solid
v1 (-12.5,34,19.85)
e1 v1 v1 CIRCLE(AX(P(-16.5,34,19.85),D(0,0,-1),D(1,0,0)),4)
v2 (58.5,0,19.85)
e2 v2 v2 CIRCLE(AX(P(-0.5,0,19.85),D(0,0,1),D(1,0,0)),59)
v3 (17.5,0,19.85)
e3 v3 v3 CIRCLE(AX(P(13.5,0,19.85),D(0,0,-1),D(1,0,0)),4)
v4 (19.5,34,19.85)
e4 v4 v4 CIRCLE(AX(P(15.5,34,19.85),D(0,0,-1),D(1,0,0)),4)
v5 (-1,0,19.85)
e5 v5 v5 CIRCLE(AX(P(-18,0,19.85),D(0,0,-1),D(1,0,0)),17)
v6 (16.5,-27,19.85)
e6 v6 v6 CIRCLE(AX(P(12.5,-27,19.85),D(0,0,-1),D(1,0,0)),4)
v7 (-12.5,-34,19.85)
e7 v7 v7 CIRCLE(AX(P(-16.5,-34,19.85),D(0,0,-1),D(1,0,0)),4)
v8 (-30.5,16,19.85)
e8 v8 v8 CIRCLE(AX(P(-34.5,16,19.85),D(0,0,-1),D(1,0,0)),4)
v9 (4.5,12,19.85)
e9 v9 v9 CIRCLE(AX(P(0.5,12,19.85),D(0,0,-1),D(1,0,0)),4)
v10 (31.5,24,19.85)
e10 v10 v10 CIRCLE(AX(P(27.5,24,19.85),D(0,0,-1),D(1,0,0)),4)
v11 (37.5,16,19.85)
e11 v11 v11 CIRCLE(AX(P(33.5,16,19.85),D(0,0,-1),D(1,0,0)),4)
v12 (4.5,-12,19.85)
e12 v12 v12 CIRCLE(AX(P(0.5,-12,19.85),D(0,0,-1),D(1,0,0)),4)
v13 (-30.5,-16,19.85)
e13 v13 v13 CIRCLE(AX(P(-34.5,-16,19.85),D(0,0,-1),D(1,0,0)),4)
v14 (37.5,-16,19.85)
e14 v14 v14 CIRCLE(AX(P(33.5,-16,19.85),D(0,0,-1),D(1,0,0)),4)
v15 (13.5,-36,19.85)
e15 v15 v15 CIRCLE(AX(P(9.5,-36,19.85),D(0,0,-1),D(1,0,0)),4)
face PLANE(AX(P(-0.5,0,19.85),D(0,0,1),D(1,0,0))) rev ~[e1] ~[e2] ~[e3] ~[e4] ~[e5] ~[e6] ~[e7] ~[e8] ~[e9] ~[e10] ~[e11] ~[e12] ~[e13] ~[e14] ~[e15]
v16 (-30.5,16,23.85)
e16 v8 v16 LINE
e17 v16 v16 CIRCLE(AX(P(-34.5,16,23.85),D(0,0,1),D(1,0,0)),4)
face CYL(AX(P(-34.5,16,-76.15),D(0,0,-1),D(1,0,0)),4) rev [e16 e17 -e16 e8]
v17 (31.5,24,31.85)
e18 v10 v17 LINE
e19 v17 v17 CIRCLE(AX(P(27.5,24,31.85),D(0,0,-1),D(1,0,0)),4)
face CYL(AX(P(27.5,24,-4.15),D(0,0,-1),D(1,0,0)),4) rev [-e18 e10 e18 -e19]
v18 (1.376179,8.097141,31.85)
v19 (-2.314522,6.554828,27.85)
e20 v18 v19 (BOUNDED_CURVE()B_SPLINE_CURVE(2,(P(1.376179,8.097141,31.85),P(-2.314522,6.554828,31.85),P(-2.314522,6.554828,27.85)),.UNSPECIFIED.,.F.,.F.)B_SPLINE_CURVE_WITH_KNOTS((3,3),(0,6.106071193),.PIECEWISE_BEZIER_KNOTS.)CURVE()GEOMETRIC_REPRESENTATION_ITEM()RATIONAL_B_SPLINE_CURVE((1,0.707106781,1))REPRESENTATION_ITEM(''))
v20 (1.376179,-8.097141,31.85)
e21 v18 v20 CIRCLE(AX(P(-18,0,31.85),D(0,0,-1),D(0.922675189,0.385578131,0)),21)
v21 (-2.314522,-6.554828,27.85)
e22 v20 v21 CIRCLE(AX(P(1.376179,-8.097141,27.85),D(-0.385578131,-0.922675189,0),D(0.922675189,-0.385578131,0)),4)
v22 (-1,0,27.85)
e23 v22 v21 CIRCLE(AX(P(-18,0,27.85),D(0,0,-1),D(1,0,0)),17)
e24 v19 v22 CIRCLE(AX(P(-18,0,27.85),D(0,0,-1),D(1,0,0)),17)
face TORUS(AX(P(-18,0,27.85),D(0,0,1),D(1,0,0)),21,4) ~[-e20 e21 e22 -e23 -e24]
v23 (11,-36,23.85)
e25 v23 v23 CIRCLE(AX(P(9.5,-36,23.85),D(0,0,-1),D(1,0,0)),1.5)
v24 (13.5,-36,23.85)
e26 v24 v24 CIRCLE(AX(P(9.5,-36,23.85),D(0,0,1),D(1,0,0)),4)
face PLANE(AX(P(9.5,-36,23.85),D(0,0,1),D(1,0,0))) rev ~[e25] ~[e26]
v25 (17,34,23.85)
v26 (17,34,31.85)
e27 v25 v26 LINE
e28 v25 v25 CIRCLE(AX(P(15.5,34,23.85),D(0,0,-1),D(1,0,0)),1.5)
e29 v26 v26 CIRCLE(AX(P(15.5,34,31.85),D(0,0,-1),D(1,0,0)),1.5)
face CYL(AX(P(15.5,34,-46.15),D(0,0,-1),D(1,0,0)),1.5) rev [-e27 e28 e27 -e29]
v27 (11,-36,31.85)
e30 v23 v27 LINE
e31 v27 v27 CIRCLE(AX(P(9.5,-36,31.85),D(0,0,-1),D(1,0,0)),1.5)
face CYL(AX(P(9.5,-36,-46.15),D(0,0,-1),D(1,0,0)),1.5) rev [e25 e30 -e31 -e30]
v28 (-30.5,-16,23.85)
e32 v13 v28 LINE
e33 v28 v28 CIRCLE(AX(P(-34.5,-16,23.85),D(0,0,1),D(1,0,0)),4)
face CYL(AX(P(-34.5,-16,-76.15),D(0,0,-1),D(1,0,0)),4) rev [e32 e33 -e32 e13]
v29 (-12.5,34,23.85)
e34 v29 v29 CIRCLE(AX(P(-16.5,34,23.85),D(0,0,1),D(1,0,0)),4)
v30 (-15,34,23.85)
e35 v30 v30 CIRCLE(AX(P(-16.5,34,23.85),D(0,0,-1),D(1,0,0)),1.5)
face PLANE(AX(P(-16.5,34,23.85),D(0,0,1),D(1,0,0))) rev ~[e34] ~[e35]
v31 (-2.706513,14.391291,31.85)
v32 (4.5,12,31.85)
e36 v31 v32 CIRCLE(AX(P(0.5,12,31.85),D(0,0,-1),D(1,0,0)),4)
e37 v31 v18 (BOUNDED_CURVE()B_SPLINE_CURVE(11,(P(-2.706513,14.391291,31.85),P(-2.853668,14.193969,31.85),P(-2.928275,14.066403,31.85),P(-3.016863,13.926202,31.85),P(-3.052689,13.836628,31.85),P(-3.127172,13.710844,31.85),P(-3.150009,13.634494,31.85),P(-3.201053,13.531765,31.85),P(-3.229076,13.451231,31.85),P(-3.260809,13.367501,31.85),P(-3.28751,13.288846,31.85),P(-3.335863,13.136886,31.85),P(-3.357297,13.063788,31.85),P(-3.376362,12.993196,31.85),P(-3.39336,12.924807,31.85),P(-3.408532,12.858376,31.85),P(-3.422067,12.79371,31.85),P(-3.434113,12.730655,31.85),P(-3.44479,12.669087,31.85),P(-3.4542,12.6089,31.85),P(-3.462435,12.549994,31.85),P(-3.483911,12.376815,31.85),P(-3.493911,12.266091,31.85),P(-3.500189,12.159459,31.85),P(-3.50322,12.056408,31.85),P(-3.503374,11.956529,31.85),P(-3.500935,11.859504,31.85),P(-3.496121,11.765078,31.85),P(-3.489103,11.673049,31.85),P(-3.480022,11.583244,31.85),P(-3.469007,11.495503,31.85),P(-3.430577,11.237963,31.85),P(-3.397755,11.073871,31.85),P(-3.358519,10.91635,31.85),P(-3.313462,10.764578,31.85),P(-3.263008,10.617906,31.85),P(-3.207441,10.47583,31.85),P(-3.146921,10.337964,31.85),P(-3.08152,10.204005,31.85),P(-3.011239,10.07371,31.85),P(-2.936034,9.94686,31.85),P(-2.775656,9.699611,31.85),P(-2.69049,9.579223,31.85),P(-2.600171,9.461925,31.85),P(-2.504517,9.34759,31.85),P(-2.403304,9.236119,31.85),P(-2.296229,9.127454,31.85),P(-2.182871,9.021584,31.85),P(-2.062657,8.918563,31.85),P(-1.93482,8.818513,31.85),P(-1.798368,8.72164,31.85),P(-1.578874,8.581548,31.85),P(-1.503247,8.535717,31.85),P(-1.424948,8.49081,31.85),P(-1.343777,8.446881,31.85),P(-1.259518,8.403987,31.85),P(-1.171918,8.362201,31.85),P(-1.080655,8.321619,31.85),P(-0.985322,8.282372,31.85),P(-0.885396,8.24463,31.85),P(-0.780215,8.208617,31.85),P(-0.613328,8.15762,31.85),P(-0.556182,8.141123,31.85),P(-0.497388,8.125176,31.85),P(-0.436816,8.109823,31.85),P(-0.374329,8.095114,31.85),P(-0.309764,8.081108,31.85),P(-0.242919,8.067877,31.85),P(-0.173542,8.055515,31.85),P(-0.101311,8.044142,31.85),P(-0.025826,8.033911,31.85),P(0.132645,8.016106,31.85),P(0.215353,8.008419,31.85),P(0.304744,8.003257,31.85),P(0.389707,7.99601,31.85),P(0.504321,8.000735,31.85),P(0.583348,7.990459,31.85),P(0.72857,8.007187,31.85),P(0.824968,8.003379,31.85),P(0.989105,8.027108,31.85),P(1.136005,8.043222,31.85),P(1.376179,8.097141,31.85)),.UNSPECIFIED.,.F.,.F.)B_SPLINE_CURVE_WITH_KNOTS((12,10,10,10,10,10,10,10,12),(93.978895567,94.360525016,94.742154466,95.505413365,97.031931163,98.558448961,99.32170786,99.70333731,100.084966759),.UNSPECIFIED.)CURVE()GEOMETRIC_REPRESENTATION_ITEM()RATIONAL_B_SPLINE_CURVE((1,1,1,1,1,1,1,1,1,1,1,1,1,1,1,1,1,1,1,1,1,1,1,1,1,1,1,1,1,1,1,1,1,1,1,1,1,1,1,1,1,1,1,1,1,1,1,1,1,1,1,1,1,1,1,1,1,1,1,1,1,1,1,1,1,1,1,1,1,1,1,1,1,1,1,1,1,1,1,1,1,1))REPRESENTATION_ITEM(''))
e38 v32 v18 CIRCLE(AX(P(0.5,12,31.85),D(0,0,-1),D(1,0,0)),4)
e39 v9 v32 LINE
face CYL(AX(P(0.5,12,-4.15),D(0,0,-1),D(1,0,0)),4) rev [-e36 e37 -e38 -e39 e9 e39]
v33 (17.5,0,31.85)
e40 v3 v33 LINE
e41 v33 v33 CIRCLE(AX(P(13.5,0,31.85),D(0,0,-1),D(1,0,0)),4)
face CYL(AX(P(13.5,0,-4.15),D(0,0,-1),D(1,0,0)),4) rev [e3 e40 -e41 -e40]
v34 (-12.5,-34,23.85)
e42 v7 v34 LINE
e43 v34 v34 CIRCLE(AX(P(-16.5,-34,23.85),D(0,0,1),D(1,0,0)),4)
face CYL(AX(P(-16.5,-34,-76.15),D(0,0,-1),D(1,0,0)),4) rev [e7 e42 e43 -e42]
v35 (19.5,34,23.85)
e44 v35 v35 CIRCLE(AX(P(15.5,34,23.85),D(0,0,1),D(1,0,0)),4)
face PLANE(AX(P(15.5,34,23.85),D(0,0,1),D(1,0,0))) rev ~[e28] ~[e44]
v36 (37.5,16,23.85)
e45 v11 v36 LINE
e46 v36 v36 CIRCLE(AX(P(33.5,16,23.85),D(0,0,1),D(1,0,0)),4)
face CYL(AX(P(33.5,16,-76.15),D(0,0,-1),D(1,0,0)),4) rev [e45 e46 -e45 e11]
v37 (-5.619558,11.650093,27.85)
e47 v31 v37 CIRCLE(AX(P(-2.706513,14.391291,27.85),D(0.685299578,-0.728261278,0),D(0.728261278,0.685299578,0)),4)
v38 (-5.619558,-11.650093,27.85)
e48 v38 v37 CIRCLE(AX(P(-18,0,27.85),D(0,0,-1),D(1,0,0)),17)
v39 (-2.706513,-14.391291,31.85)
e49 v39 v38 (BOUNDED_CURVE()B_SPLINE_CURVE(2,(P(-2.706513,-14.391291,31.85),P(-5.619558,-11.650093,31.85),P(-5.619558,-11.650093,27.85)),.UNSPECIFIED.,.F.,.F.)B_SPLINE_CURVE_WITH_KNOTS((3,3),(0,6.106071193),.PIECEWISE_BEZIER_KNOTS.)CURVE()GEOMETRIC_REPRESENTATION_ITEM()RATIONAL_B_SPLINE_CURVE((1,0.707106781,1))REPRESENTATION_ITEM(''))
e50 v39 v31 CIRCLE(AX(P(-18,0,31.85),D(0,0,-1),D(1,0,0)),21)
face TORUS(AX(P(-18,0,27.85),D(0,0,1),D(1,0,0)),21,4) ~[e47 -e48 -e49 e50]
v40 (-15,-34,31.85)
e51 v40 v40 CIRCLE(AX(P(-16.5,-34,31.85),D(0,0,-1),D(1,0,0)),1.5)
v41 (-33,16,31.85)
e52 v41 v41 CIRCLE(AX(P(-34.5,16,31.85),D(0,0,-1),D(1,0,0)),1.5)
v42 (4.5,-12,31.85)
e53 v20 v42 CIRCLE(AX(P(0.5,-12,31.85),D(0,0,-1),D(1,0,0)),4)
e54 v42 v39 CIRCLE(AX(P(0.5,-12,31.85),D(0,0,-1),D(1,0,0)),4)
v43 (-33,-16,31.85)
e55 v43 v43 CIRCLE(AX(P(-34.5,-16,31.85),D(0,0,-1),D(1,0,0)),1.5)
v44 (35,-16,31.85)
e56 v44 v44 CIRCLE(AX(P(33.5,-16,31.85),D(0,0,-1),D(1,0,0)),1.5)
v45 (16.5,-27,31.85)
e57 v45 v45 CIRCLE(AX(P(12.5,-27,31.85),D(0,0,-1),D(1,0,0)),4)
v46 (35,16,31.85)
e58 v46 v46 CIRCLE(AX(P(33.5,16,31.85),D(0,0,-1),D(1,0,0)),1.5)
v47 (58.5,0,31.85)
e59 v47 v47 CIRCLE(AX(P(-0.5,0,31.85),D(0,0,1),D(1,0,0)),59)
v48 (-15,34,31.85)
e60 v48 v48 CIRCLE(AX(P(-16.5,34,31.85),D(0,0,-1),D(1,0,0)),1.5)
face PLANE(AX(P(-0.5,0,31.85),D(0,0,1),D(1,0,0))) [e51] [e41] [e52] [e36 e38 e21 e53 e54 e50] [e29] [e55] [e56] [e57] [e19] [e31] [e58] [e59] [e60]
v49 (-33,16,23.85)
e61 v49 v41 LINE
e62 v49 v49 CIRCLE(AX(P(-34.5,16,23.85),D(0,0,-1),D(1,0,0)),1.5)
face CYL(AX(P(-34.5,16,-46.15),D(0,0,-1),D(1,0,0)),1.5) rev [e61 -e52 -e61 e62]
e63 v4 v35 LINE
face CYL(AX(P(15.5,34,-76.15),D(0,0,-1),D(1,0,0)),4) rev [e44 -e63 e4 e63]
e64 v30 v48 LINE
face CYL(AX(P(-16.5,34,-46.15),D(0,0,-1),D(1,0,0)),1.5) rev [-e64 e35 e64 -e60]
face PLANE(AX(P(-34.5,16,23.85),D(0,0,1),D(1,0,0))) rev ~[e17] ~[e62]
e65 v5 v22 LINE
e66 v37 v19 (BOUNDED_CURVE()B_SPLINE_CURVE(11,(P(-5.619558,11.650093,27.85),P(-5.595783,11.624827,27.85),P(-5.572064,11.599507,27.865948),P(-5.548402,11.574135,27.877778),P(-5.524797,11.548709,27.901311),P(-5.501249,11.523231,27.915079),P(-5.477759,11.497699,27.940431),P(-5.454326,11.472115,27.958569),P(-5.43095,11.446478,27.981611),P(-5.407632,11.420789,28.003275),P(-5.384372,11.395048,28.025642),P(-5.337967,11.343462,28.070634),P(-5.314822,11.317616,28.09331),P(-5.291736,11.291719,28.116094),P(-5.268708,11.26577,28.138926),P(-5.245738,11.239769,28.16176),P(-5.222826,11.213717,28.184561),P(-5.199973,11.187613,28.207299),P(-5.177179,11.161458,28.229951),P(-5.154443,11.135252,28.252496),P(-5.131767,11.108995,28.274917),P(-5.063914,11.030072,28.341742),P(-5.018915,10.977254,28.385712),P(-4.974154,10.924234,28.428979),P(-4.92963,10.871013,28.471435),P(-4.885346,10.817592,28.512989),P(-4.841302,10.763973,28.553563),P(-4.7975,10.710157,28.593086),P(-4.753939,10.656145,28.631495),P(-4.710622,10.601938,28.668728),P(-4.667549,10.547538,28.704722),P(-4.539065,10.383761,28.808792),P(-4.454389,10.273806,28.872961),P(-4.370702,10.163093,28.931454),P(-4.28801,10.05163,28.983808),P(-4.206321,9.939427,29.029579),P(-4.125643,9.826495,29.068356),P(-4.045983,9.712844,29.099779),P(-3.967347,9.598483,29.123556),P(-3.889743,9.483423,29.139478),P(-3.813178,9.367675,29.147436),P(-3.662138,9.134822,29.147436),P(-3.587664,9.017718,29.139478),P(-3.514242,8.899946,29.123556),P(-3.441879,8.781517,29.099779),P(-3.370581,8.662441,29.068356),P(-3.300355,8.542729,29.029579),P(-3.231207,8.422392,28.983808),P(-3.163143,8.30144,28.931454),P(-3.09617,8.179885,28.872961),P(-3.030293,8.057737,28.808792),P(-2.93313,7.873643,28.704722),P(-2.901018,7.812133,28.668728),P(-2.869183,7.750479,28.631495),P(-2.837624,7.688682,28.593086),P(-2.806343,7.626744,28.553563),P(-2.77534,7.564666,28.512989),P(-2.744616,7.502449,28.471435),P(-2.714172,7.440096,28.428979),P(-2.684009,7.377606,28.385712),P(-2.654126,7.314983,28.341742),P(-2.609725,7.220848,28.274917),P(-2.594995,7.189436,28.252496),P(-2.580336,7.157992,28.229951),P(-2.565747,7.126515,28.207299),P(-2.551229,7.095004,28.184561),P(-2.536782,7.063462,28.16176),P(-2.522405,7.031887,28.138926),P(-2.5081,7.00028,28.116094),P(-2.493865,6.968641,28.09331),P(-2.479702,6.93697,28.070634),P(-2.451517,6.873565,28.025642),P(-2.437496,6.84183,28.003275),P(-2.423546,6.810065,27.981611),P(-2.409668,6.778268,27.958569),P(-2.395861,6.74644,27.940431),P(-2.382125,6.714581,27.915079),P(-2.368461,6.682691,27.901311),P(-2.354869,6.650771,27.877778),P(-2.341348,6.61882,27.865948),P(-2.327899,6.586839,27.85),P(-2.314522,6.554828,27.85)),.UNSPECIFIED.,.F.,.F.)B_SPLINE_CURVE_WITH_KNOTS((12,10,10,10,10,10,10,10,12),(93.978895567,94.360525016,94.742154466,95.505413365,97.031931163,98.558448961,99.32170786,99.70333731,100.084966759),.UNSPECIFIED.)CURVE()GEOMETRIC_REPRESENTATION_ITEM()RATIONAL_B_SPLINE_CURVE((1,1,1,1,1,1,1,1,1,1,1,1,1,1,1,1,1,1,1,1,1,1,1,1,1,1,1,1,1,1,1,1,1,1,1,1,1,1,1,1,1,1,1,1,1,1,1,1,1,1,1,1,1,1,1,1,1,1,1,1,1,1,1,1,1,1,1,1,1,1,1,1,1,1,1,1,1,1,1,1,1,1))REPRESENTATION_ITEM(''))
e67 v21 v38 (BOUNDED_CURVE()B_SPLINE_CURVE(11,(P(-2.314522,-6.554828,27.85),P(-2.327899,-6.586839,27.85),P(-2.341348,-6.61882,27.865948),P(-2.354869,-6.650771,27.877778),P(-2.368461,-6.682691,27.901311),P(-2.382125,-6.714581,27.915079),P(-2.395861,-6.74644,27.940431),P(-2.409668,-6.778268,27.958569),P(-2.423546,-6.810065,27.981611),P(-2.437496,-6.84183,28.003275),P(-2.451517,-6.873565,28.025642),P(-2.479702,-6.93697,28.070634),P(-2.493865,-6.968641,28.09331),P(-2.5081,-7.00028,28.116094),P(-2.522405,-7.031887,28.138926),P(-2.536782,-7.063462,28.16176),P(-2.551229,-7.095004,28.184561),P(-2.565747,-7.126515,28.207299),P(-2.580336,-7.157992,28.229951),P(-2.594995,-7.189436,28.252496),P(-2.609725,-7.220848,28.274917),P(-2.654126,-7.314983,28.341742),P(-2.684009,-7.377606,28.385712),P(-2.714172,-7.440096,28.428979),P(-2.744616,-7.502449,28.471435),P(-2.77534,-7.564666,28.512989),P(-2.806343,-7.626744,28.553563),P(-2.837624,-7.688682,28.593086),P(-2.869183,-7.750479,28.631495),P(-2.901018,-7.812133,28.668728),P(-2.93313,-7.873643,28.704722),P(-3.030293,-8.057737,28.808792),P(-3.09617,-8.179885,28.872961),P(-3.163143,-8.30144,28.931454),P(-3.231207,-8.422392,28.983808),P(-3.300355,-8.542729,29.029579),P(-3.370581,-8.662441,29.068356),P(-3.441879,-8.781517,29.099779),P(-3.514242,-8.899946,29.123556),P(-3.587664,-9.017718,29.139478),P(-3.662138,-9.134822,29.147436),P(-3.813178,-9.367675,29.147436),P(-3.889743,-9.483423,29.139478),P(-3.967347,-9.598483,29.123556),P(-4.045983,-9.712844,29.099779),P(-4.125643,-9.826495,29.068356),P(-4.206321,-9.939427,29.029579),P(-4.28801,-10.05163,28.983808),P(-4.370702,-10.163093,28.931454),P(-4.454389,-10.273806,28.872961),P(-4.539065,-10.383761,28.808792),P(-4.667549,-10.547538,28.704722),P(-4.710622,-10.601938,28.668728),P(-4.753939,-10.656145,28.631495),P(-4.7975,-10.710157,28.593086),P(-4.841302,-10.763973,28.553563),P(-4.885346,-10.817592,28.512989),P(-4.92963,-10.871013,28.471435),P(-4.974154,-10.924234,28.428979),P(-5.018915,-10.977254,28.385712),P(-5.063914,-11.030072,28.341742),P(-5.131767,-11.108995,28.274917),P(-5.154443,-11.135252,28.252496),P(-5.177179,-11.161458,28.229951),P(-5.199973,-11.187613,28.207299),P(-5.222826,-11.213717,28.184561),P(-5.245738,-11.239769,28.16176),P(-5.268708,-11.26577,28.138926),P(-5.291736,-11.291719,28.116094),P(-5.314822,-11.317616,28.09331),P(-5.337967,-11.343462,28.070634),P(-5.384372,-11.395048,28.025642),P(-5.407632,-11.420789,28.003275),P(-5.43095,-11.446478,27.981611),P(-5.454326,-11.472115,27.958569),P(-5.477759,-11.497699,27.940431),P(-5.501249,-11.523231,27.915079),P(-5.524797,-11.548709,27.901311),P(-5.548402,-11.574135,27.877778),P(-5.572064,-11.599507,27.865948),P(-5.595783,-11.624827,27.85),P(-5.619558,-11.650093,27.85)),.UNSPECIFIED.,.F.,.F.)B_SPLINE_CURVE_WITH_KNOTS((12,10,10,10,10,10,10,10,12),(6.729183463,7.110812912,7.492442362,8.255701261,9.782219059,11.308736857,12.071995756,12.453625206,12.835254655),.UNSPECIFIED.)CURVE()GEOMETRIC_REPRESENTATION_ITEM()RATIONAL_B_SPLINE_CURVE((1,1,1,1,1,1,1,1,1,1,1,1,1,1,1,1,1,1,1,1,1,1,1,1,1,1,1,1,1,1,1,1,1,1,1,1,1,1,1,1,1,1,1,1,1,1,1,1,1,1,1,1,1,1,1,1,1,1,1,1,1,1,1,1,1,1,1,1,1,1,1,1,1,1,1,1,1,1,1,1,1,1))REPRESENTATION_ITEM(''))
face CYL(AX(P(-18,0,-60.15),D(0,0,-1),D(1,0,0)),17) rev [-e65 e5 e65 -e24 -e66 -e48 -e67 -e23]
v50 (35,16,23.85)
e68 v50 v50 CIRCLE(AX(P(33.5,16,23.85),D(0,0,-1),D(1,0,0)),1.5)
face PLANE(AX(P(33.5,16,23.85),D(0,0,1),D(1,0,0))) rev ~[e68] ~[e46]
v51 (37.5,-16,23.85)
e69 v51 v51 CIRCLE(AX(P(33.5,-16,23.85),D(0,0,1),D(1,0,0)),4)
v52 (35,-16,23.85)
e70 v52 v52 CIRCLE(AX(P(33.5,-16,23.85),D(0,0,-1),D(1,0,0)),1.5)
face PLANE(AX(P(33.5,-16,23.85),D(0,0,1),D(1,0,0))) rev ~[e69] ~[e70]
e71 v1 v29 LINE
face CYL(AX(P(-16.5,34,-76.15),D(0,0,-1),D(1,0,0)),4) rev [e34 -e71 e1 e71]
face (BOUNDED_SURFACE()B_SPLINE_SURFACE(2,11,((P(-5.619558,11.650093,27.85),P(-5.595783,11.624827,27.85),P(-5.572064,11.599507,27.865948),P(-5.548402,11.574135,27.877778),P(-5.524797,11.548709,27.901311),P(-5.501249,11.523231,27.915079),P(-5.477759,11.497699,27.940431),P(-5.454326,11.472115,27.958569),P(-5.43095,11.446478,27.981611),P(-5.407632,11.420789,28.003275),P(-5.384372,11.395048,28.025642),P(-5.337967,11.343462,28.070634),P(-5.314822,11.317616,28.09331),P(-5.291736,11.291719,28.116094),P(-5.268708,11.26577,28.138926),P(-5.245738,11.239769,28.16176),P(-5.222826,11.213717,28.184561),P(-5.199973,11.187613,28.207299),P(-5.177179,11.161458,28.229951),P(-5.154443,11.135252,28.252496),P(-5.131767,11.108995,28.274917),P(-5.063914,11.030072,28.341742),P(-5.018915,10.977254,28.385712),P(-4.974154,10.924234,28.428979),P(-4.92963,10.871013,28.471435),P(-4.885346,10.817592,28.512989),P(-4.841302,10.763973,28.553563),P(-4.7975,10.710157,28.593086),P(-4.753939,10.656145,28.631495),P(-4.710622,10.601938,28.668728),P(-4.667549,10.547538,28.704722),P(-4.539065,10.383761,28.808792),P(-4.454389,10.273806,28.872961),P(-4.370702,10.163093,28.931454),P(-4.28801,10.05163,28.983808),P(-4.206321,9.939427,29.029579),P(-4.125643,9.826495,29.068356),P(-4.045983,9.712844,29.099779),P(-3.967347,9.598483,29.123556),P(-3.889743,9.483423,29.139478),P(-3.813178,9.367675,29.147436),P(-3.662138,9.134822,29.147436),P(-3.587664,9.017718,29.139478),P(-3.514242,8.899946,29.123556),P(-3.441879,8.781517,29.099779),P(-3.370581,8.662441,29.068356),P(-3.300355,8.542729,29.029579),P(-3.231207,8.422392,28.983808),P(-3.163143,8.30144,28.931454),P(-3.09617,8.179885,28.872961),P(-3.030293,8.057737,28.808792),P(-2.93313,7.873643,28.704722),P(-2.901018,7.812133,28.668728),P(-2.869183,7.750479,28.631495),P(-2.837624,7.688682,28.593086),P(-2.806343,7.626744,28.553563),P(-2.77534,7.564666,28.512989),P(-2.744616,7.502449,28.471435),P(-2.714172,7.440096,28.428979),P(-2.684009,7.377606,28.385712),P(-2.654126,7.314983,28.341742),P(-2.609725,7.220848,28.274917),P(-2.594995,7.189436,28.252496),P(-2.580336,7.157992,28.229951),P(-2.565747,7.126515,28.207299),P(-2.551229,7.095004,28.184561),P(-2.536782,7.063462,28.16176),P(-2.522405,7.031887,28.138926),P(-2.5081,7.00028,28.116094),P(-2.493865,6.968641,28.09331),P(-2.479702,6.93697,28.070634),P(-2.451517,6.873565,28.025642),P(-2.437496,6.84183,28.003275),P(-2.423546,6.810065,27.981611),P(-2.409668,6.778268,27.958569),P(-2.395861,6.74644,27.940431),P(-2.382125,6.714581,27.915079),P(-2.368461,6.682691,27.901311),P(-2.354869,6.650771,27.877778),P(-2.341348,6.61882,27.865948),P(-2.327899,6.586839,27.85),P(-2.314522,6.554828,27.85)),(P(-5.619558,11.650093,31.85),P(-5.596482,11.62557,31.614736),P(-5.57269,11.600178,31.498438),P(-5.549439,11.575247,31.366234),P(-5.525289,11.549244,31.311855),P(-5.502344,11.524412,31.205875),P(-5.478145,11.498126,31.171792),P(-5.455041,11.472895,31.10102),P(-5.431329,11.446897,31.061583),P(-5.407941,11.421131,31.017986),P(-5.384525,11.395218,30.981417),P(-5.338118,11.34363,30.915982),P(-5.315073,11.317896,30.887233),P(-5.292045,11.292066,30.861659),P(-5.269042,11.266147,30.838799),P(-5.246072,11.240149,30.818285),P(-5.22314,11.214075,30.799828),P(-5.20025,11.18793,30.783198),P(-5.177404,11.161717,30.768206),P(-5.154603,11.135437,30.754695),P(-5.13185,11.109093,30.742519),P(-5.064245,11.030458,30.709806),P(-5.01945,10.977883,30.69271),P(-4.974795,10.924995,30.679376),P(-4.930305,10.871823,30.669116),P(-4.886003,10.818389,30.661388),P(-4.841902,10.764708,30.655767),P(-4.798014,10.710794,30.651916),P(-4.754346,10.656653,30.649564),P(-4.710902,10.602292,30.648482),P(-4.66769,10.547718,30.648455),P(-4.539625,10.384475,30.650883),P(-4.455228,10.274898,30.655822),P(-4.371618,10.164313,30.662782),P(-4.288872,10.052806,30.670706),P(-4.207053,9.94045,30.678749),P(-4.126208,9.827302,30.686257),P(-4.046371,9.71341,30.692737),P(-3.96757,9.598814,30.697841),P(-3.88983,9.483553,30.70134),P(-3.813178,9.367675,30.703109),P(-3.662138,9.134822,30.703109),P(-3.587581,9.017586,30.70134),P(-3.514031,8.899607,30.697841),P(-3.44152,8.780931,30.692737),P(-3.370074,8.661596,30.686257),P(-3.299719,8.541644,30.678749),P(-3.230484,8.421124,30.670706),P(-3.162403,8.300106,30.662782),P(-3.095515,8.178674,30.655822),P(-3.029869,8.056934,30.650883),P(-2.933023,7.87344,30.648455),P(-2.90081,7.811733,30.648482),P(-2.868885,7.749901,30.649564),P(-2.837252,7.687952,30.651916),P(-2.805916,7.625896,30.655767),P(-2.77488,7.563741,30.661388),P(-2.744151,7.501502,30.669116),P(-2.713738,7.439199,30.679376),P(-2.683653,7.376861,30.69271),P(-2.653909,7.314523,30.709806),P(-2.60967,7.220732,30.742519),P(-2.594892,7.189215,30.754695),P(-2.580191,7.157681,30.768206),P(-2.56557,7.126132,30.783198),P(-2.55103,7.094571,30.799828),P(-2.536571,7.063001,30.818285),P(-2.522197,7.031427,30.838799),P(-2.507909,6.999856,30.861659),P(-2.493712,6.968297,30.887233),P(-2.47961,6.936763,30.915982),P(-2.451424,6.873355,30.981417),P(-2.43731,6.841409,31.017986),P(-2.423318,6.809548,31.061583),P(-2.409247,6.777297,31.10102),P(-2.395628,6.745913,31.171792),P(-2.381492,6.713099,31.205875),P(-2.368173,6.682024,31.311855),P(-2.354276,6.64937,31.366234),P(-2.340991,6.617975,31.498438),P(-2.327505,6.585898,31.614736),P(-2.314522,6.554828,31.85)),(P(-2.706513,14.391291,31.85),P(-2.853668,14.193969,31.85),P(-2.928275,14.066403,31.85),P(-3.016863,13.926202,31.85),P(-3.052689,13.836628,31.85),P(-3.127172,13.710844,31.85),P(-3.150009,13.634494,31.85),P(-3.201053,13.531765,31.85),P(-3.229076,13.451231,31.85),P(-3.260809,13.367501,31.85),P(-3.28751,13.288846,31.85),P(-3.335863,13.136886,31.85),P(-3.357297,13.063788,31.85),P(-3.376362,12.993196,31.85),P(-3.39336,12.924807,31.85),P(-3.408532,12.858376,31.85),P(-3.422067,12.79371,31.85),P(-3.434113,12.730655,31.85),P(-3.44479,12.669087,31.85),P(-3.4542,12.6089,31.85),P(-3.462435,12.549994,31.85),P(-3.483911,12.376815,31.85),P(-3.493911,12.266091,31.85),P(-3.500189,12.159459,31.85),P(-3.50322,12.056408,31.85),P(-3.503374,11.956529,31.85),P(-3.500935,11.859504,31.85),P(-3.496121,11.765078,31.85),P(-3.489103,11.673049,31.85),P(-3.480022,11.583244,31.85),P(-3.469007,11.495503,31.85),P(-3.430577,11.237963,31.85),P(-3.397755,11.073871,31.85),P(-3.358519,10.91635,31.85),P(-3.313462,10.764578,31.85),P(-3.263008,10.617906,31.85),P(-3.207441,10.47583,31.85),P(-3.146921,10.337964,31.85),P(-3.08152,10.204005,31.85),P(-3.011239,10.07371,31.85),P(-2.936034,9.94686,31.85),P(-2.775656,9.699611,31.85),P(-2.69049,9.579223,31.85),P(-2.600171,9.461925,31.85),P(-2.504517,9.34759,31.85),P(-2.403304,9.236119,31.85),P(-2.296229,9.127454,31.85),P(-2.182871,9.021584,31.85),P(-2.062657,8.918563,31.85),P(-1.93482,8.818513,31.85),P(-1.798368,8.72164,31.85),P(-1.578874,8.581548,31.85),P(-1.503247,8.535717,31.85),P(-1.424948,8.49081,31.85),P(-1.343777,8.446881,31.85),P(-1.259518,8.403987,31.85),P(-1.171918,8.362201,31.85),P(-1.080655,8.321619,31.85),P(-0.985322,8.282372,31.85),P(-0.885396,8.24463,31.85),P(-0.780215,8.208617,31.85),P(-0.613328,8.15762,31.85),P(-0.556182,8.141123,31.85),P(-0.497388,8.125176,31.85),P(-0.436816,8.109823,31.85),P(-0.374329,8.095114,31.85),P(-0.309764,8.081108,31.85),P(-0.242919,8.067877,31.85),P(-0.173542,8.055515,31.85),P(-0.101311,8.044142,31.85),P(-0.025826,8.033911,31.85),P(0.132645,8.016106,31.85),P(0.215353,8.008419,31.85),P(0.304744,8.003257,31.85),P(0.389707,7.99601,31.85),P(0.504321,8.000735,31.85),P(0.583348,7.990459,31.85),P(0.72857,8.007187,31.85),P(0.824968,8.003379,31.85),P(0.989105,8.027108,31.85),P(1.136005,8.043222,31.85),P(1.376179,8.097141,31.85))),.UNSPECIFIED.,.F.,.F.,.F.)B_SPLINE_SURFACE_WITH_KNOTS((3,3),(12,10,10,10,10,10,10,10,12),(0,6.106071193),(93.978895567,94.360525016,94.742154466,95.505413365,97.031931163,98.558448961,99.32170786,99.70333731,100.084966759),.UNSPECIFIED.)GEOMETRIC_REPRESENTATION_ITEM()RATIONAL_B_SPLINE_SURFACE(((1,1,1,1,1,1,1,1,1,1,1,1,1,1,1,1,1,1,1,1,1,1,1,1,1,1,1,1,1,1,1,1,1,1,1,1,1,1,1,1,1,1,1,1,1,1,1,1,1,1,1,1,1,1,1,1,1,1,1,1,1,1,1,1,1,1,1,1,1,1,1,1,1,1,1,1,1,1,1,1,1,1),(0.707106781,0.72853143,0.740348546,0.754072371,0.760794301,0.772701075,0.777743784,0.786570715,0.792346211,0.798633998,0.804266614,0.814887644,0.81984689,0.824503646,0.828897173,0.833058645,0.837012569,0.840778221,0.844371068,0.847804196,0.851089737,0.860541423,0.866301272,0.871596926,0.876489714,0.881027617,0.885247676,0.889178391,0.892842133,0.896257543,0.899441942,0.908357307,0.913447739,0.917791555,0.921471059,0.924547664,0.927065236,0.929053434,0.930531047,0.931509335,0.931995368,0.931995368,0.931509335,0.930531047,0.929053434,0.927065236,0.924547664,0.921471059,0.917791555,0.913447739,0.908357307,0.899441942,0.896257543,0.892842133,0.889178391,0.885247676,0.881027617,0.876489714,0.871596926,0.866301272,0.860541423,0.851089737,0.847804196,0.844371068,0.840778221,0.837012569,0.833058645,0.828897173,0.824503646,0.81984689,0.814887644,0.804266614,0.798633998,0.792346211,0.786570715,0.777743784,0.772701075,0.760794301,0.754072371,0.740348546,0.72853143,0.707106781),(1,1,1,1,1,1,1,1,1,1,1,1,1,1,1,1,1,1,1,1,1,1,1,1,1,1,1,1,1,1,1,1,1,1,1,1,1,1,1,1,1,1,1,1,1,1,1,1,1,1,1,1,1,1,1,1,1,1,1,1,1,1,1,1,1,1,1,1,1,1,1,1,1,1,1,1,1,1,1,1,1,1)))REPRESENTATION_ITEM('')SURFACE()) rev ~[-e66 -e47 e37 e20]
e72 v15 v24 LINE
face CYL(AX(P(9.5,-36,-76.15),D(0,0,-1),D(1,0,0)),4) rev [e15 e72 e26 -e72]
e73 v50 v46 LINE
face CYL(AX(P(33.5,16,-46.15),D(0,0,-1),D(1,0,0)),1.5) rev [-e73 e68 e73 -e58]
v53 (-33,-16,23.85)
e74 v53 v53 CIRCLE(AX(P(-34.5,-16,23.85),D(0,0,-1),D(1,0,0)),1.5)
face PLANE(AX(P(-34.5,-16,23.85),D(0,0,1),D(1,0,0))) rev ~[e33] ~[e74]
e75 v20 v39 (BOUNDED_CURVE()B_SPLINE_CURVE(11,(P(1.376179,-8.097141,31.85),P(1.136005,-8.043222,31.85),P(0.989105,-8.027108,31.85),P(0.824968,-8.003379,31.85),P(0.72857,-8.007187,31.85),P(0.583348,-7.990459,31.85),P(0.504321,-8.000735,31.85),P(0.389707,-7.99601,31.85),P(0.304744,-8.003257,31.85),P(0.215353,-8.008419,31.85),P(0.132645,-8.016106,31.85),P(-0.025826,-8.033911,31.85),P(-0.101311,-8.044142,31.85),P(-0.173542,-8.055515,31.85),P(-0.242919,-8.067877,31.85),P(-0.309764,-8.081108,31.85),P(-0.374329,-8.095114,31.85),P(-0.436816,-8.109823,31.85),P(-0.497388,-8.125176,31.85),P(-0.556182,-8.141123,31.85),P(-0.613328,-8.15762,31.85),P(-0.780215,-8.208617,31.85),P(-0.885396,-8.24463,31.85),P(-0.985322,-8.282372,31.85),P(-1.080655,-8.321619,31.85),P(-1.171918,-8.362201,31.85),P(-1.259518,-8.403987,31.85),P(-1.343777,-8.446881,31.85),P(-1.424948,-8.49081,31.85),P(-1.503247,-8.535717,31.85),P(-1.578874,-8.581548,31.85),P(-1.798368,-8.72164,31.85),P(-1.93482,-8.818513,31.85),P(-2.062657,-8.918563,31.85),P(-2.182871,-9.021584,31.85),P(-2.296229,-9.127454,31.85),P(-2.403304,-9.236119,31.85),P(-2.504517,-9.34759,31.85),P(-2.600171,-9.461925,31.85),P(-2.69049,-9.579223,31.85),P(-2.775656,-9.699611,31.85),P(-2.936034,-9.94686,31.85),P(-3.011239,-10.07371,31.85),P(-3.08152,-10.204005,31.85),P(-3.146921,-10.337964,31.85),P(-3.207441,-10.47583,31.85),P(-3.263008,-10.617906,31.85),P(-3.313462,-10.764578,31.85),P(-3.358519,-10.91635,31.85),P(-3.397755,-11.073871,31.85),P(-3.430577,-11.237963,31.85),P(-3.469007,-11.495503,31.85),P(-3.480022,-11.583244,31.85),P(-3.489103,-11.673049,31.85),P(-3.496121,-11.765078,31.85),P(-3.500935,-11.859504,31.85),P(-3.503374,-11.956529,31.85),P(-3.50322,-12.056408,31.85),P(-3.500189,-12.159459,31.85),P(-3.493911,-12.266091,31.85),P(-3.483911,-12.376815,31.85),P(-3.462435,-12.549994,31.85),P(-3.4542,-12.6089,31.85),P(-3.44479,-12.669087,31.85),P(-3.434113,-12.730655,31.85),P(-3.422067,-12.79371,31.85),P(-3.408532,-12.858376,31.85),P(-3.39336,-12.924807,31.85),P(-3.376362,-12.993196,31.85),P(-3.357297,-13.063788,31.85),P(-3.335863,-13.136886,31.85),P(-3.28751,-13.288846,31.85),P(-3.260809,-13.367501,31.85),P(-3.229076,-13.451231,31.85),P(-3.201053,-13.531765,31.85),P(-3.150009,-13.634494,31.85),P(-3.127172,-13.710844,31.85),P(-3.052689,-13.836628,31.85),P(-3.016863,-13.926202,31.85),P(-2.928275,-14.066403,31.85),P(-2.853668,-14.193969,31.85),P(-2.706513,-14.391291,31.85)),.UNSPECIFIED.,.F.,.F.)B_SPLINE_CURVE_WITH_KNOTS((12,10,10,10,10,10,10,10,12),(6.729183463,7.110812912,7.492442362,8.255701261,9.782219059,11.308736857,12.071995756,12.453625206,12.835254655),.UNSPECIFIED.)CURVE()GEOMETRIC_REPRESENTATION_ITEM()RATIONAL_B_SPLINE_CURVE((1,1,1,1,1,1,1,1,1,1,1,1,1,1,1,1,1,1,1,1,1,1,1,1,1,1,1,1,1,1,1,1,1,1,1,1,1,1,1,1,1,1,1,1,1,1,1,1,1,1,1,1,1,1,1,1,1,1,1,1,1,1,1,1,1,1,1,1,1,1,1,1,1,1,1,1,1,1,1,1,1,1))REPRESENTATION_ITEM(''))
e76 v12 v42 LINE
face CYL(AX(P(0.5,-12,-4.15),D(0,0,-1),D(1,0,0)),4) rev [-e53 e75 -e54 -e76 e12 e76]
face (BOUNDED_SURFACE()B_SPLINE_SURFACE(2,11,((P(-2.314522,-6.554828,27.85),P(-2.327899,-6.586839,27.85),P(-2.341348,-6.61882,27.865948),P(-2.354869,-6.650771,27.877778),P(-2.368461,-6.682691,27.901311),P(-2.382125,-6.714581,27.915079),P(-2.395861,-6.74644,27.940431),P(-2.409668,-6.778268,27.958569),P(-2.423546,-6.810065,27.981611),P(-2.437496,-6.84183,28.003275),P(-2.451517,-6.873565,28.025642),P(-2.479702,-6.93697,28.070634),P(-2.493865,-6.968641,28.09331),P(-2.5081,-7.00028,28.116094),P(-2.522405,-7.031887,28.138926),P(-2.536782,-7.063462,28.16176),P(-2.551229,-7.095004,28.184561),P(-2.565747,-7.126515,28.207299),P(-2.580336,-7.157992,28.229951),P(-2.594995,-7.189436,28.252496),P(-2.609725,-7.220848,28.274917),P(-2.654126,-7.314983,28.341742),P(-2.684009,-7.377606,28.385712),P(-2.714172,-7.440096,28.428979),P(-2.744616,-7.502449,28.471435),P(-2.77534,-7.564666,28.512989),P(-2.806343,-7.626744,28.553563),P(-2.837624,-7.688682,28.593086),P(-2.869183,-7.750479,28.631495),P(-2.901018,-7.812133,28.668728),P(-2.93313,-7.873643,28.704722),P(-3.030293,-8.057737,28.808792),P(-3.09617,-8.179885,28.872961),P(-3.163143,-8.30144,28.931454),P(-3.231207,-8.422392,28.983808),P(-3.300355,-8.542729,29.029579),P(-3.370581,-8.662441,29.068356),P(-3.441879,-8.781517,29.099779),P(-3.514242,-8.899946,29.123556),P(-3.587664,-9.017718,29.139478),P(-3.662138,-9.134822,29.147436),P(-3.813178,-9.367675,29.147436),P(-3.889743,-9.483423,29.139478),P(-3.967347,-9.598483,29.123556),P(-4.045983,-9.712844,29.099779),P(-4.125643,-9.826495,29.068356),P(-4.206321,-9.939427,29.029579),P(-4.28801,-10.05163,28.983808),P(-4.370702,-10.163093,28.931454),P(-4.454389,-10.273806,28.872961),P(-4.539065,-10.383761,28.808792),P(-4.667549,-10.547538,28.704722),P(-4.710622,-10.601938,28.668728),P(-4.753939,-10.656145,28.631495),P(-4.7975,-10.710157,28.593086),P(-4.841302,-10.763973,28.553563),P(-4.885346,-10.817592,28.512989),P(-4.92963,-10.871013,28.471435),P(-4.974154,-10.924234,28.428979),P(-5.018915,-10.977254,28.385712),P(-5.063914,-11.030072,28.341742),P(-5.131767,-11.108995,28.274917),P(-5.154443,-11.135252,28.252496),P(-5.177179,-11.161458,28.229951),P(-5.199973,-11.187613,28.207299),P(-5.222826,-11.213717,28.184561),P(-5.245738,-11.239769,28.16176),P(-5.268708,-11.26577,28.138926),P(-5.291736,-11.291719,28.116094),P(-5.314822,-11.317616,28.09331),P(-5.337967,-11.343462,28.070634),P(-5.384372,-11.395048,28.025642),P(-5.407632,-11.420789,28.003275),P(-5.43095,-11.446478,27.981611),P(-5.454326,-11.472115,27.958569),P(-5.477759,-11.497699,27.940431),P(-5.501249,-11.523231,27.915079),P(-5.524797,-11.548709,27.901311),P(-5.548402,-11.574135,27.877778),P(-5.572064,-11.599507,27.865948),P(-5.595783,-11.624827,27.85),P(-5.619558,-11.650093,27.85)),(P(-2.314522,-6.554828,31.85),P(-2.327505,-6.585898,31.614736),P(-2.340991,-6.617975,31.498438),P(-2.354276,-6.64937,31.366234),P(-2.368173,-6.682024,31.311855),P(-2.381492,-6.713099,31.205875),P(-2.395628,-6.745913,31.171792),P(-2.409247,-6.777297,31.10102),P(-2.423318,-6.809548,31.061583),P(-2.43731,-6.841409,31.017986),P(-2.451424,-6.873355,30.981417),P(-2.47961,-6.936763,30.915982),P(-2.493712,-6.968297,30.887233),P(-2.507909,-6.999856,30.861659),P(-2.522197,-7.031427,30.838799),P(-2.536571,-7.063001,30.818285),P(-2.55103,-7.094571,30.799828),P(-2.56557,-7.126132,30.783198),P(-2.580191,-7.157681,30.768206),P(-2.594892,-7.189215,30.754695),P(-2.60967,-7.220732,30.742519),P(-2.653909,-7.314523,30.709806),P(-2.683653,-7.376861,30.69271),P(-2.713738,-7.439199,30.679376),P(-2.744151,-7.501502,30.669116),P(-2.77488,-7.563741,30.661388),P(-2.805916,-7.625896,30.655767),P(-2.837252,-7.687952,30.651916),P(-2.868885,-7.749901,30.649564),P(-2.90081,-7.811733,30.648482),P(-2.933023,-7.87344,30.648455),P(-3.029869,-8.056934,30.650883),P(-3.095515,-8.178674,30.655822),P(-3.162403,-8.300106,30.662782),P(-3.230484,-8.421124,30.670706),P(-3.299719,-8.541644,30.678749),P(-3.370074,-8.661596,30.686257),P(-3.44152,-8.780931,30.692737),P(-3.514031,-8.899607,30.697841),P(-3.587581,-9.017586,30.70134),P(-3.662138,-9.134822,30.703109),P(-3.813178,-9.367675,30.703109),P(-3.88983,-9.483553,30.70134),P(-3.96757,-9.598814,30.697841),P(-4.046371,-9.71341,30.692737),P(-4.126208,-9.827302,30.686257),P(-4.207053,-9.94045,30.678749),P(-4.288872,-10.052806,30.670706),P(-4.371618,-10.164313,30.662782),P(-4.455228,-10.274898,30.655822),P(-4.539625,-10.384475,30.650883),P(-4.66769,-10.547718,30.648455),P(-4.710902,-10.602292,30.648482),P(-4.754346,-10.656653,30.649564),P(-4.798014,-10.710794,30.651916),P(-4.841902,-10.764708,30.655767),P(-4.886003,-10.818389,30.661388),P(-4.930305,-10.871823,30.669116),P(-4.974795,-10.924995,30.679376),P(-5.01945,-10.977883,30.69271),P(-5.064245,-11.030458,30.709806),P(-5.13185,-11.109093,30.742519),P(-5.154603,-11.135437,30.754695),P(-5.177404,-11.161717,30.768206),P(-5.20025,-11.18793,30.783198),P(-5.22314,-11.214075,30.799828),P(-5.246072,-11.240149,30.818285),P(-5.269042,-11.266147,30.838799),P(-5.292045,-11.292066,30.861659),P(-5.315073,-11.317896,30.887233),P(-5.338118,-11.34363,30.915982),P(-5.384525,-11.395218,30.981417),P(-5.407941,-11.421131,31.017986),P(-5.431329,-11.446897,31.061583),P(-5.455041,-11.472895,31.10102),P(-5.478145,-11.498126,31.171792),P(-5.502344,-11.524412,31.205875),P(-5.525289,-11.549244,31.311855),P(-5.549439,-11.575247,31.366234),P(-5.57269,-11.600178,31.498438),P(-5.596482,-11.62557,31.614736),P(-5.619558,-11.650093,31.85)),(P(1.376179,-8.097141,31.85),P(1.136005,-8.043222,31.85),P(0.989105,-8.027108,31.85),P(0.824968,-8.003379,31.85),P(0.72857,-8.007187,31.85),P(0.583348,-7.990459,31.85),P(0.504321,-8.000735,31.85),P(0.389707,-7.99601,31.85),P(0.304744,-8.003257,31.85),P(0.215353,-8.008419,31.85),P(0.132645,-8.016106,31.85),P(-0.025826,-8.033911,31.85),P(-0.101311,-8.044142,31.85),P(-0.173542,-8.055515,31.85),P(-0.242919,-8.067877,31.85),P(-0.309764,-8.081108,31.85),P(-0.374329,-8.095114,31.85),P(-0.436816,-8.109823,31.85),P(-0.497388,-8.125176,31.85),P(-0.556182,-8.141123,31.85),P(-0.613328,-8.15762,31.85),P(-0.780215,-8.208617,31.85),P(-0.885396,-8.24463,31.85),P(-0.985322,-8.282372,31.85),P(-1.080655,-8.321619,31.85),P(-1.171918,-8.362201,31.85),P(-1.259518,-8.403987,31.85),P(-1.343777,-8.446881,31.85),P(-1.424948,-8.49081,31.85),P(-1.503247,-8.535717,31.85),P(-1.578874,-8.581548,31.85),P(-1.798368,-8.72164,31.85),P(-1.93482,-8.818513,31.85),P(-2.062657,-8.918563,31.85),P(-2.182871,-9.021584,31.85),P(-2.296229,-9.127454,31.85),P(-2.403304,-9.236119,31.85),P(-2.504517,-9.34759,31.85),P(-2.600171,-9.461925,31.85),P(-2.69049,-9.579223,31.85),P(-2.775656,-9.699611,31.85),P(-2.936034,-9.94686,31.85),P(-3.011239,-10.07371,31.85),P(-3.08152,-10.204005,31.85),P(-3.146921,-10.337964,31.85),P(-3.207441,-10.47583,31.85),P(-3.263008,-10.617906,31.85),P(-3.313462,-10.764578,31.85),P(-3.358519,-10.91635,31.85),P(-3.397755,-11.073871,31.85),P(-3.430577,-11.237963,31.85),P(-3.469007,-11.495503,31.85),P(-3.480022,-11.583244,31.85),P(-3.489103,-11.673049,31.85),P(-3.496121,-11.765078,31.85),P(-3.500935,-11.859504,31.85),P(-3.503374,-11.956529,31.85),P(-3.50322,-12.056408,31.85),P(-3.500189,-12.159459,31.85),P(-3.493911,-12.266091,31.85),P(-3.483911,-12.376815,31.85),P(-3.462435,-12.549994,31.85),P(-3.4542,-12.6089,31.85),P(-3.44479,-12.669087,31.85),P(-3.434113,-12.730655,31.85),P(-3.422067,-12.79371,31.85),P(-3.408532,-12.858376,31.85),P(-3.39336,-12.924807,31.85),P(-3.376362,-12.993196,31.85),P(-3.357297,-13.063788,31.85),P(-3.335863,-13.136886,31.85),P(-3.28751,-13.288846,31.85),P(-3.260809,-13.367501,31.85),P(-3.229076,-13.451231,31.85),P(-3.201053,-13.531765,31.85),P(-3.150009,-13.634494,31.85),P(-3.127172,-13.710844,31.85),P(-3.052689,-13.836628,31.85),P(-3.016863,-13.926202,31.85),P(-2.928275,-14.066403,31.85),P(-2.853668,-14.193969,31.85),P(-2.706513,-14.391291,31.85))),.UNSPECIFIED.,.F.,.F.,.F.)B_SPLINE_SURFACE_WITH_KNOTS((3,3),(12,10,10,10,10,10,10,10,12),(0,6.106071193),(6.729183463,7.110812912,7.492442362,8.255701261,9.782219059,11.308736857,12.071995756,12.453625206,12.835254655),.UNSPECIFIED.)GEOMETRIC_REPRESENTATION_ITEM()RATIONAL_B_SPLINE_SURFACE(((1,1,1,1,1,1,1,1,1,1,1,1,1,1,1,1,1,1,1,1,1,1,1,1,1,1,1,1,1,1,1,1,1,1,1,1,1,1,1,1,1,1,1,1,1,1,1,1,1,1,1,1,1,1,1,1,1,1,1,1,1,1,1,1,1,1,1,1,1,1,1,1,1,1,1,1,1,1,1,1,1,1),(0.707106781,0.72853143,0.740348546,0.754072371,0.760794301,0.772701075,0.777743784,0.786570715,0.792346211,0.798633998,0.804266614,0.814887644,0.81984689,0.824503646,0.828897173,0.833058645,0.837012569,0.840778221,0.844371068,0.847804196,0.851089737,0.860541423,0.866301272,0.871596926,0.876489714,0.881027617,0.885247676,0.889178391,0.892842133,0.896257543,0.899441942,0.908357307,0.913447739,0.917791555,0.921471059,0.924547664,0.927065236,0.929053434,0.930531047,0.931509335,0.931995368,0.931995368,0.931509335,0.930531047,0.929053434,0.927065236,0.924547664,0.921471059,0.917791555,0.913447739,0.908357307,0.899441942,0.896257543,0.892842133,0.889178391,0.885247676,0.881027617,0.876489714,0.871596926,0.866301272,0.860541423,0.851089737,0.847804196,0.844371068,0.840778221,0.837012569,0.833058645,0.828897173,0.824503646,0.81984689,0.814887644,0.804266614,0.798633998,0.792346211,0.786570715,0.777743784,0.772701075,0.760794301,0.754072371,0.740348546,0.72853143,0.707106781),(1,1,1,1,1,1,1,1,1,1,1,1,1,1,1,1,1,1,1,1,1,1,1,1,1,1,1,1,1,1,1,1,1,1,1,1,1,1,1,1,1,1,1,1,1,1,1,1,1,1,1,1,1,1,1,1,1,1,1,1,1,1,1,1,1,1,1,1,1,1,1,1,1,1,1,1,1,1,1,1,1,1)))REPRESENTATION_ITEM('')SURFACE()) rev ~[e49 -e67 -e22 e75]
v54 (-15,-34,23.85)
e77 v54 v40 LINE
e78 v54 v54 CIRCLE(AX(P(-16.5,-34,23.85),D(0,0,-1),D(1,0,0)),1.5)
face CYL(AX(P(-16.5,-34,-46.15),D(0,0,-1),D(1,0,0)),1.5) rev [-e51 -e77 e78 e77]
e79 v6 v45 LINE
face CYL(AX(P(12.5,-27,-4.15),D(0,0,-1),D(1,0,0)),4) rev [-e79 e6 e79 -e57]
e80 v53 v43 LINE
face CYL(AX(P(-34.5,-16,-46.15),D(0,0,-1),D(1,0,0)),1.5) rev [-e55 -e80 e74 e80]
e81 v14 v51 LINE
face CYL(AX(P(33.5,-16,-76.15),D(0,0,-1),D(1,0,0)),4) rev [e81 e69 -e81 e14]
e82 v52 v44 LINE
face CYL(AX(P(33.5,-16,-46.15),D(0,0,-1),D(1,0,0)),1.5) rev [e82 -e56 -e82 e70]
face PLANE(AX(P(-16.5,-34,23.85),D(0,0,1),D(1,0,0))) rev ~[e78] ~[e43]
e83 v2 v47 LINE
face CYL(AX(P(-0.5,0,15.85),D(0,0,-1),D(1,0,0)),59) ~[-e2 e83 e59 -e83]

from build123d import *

# Parameters (mm, degrees)
CYLINDER2014_R     = 59
CYLINDER2014_DEPTH = 16
CYLINDER2078_R     = 17
CYLINDER2078_DEPTH = 160
CYLINDER2021_R     = 4
CYLINDER2021_DEPTH = 100
CYLINDER2022_R     = 4
CYLINDER2022_DEPTH = 100
CYLINDER2042_R     = 1.5
CYLINDER2042_DEPTH = 100
CYLINDER2058_R     = 1.5
CYLINDER2058_DEPTH = 100
CYLINDER2057_R     = 1.5
CYLINDER2057_DEPTH = 100
CYLINDER2039_R     = 1.5
CYLINDER2039_DEPTH = 100
CYLINDER2038_R     = 1.5
CYLINDER2038_DEPTH = 100
CYLINDER2037_R     = 1.5
CYLINDER2037_DEPTH = 100
CYLINDER2036_R     = 1.5
CYLINDER2036_DEPTH = 100
CYLINDER2061_R     = 1.5
CYLINDER2061_DEPTH = 100
CYLINDER2059_R     = 4
CYLINDER2059_DEPTH = 100
CYLINDER2020_R     = 4
CYLINDER2020_DEPTH = 100
CYLINDER2019_R     = 4
CYLINDER2019_DEPTH = 100
CYLINDER2017_R     = 4
CYLINDER2017_DEPTH = 100
CYLINDER2015_R     = 4
CYLINDER2015_DEPTH = 100
CYLINDER2016_R     = 4
CYLINDER2016_DEPTH = 100
CYLINDER2018_R     = 4
CYLINDER2018_DEPTH = 100
CYLINDER2060_R     = 4
CYLINDER2060_DEPTH = 100
CYLINDER2029_R     = 4
CYLINDER2029_DEPTH = 20
CYLINDER2028_R     = 4
CYLINDER2028_DEPTH = 20
CYLINDER2027_R     = 4
CYLINDER2027_DEPTH = 20
CYLINDER2026_R     = 4
CYLINDER2026_DEPTH = 40
CYLINDER2025_R     = 4
CYLINDER2025_DEPTH = 40
CYLINDER2024_R     = 4
CYLINDER2024_DEPTH = 40
CYLINDER2023_R     = 4
CYLINDER2023_DEPTH = 40
CYLINDER2050_R     = 4
CYLINDER2050_DEPTH = 20
CYLINDER2030_R     = 59
CYLINDER2030_DEPTH = 16
CHAMFER071_SIZE    = 4
FILLET007_R        = 4


with BuildPart() as v_lec2014:
    # Cylinder2014 → Cylinder2014 (new body)
    with BuildSketch(Plane(origin=(-0.5, 0, 19.85), x_dir=(1, 0, 0), z_dir=(0, 0, 1))):
        Circle(CYLINDER2014_R)
    extrude(amount=CYLINDER2014_DEPTH)


with BuildPart() as v_lec2078:
    # Cylinder2078 → Cylinder2078 (new body)
    with BuildSketch(Plane(origin=(-18, 0, -60), x_dir=(1, 0, 0), z_dir=(0, 0, 1))):
        Circle(CYLINDER2078_R)
    extrude(amount=CYLINDER2078_DEPTH)


with BuildPart() as v_lec2021:
    # Cylinder2021 → Cylinder2021 (new body)
    with BuildSketch(Plane(origin=(14, 0, -18), x_dir=(1, 0, 0), z_dir=(0, 0, 1))):
        Circle(CYLINDER2021_R)
    extrude(amount=CYLINDER2021_DEPTH)


with BuildPart() as srouby_troj_silne017:
    # Cylinder2022 → Cylinder2022 (new body)
    with BuildSketch(Plane(origin=(90, 0, -18), x_dir=(1, 0, 0), z_dir=(0, 0, 1))):
        Circle(CYLINDER2022_R)
    extrude(amount=CYLINDER2022_DEPTH)

    # Compound1009: union Válec2021
    add(v_lec2021.part)


with BuildPart() as v_lec2042:
    # Cylinder2042 → Cylinder2042 (new body)
    with BuildSketch(Plane(origin=(-34, -16, -60), x_dir=(1, 0, 0), z_dir=(0, 0, 1))):
        Circle(CYLINDER2042_R)
    extrude(amount=CYLINDER2042_DEPTH)


with BuildPart() as v_lec2058:
    # Cylinder2058 → Cylinder2058 (new body)
    with BuildSketch(Plane(origin=(34, -16, -60), x_dir=(1, 0, 0), z_dir=(0, 0, 1))):
        Circle(CYLINDER2058_R)
    extrude(amount=CYLINDER2058_DEPTH)


with BuildPart() as v_lec2057:
    # Cylinder2057 → Cylinder2057 (new body)
    with BuildSketch(Plane(origin=(34, 16, -60), x_dir=(1, 0, 0), z_dir=(0, 0, 1))):
        Circle(CYLINDER2057_R)
    extrude(amount=CYLINDER2057_DEPTH)


with BuildPart() as v_lec2039:
    # Cylinder2039 → Cylinder2039 (new body)
    with BuildSketch(Plane(origin=(16, 34, -60), x_dir=(1, 0, 0), z_dir=(0, 0, 1))):
        Circle(CYLINDER2039_R)
    extrude(amount=CYLINDER2039_DEPTH)


with BuildPart() as v_lec2038:
    # Cylinder2038 → Cylinder2038 (new body)
    with BuildSketch(Plane(origin=(10, -36, -60), x_dir=(1, 0, 0), z_dir=(0, 0, 1))):
        Circle(CYLINDER2038_R)
    extrude(amount=CYLINDER2038_DEPTH)


with BuildPart() as v_lec2037:
    # Cylinder2037 → Cylinder2037 (new body)
    with BuildSketch(Plane(origin=(-16, -34, -60), x_dir=(1, 0, 0), z_dir=(0, 0, 1))):
        Circle(CYLINDER2037_R)
    extrude(amount=CYLINDER2037_DEPTH)


with BuildPart() as v_lec2036:
    # Cylinder2036 → Cylinder2036 (new body)
    with BuildSketch(Plane(origin=(-16, 34, -60), x_dir=(1, 0, 0), z_dir=(0, 0, 1))):
        Circle(CYLINDER2036_R)
    extrude(amount=CYLINDER2036_DEPTH)


with BuildPart() as sbouby_baze017:
    # Cylinder2061 → Cylinder2061 (new body)
    with BuildSketch(Plane(origin=(-34, 16, -60), x_dir=(1, 0, 0), z_dir=(0, 0, 1))):
        Circle(CYLINDER2061_R)
    extrude(amount=CYLINDER2061_DEPTH)

    # Compound993: union Válec2042, Válec2058, Válec2057, Válec2039, Válec2038, Válec2037, Válec2036
    add(v_lec2042.part)
    add(v_lec2058.part)
    add(v_lec2057.part)
    add(v_lec2039.part)
    add(v_lec2038.part)
    add(v_lec2037.part)
    add(v_lec2036.part)


with BuildPart() as v_lec2059:
    # Cylinder2059 → Cylinder2059 (new body)
    with BuildSketch(Plane(origin=(-16, 34, -90), x_dir=(1, 0, 0), z_dir=(0, 0, 1))):
        Circle(CYLINDER2059_R)
    extrude(amount=CYLINDER2059_DEPTH)


with BuildPart() as v_lec2020:
    # Cylinder2020 → Cylinder2020 (new body)
    with BuildSketch(Plane(origin=(-16, -34, -90), x_dir=(1, 0, 0), z_dir=(0, 0, 1))):
        Circle(CYLINDER2020_R)
    extrude(amount=CYLINDER2020_DEPTH)


with BuildPart() as v_lec2019:
    # Cylinder2019 → Cylinder2019 (new body)
    with BuildSketch(Plane(origin=(34, -16, -90), x_dir=(1, 0, 0), z_dir=(0, 0, 1))):
        Circle(CYLINDER2019_R)
    extrude(amount=CYLINDER2019_DEPTH)


with BuildPart() as v_lec2017:
    # Cylinder2017 → Cylinder2017 (new body)
    with BuildSketch(Plane(origin=(16, 34, -90), x_dir=(1, 0, 0), z_dir=(0, 0, 1))):
        Circle(CYLINDER2017_R)
    extrude(amount=CYLINDER2017_DEPTH)


with BuildPart() as v_lec2015:
    # Cylinder2015 → Cylinder2015 (new body)
    with BuildSketch(Plane(origin=(10, -36, -90), x_dir=(1, 0, 0), z_dir=(0, 0, 1))):
        Circle(CYLINDER2015_R)
    extrude(amount=CYLINDER2015_DEPTH)


with BuildPart() as v_lec2016:
    # Cylinder2016 → Cylinder2016 (new body)
    with BuildSketch(Plane(origin=(-34, 16, -90), x_dir=(1, 0, 0), z_dir=(0, 0, 1))):
        Circle(CYLINDER2016_R)
    extrude(amount=CYLINDER2016_DEPTH)


with BuildPart() as v_lec2018:
    # Cylinder2018 → Cylinder2018 (new body)
    with BuildSketch(Plane(origin=(34, 16, -90), x_dir=(1, 0, 0), z_dir=(0, 0, 1))):
        Circle(CYLINDER2018_R)
    extrude(amount=CYLINDER2018_DEPTH)


with BuildPart() as sbouby_baze_silne027:
    # Cylinder2060 → Cylinder2060 (new body)
    with BuildSketch(Plane(origin=(-34, -16, -90), x_dir=(1, 0, 0), z_dir=(0, 0, 1))):
        Circle(CYLINDER2060_R)
    extrude(amount=CYLINDER2060_DEPTH)

    # Compound1008: union Válec2059, Válec2020, Válec2019, Válec2017, Válec2015, Válec2016, Válec2018
    add(v_lec2059.part)
    add(v_lec2020.part)
    add(v_lec2019.part)
    add(v_lec2017.part)
    add(v_lec2015.part)
    add(v_lec2016.part)
    add(v_lec2018.part)


with BuildPart() as v_lec2029:
    # Cylinder2029 → Cylinder2029 (new body)
    with BuildSketch(Plane(origin=(103, 12, -20), x_dir=(1, 0, 0), z_dir=(0, 0, 1))):
        Circle(CYLINDER2029_R)
    extrude(amount=CYLINDER2029_DEPTH)


with BuildPart() as v_lec2028:
    # Cylinder2028 → Cylinder2028 (new body)
    with BuildSketch(Plane(origin=(76, 24, -18), x_dir=(1, 0, 0), z_dir=(0, 0, 1))):
        Circle(CYLINDER2028_R)
    extrude(amount=CYLINDER2028_DEPTH)


with BuildPart() as v_lec2027:
    # Cylinder2027 → Cylinder2027 (new body)
    with BuildSketch(Plane(origin=(91, -27, -18), x_dir=(1, 0, 0), z_dir=(0, 0, 1))):
        Circle(CYLINDER2027_R)
    extrude(amount=CYLINDER2027_DEPTH)


with BuildPart() as v_lec2026:
    # Cylinder2026 → Cylinder2026 (new body)
    with BuildSketch(Plane(origin=(13, -27, -18), x_dir=(1, 0, 0), z_dir=(0, 0, 1))):
        Circle(CYLINDER2026_R)
    extrude(amount=CYLINDER2026_DEPTH)


with BuildPart() as v_lec2025:
    # Cylinder2025 → Cylinder2025 (new body)
    with BuildSketch(Plane(origin=(28, 24, -18), x_dir=(1, 0, 0), z_dir=(0, 0, 1))):
        Circle(CYLINDER2025_R)
    extrude(amount=CYLINDER2025_DEPTH)


with BuildPart() as v_lec2024:
    # Cylinder2024 → Cylinder2024 (new body)
    with BuildSketch(Plane(origin=(1, -12, -18), x_dir=(1, 0, 0), z_dir=(0, 0, 1))):
        Circle(CYLINDER2024_R)
    extrude(amount=CYLINDER2024_DEPTH)


with BuildPart() as v_lec2023:
    # Cylinder2023 → Cylinder2023 (new body)
    with BuildSketch(Plane(origin=(1, 12, -18), x_dir=(1, 0, 0), z_dir=(0, 0, 1))):
        Circle(CYLINDER2023_R)
    extrude(amount=CYLINDER2023_DEPTH)


with BuildPart() as srouby_monoblok_silne019:
    # Cylinder2050 → Cylinder2050 (new body)
    with BuildSketch(Plane(origin=(103, -12, -20), x_dir=(1, 0, 0), z_dir=(0, 0, 1))):
        Circle(CYLINDER2050_R)
    extrude(amount=CYLINDER2050_DEPTH)

    # Compound1007: union Válec2029, Válec2028, Válec2027, Válec2026, Válec2025, Válec2024, Válec2023
    add(v_lec2029.part)
    add(v_lec2028.part)
    add(v_lec2027.part)
    add(v_lec2026.part)
    add(v_lec2025.part)
    add(v_lec2024.part)
    add(v_lec2023.part)


with BuildPart() as common003:
    # Cylinder2030 → Cylinder2030 (new body)
    with BuildSketch(Plane.XY.offset(2)):
        Circle(CYLINDER2030_R)
    extrude(amount=CYLINDER2030_DEPTH)

    # Cut669: cut srouby_monoblok_silne019
    add(srouby_monoblok_silne019.part, mode=Mode.SUBTRACT)

    # Cut670: cut sbouby_baze_silne027
    add(sbouby_baze_silne027.part, mode=Mode.SUBTRACT)

    # Cut674: cut sbouby_baze017
    add(sbouby_baze017.part, mode=Mode.SUBTRACT)

    # Chamfer071
    chamfer071_edges = [common003.edges().sort_by_distance(p)[0] for p in [
        (-59, 0, 2),
    ]]
    chamfer(chamfer071_edges, length=CHAMFER071_SIZE)

    # Cut675: cut srouby_troj_silne017
    add(srouby_troj_silne017.part, mode=Mode.SUBTRACT)


with BuildPart() as common003_1:
    # Cut675 placement: moved
    add(common003.part.moved(Location((-0.5, 0, 14))))

    # Cut668: cut Válec2078
    add(v_lec2078.part, mode=Mode.SUBTRACT)

    # Fillet007
    fillet007_edges = [common003_1.edges().sort_by_distance(p)[0] for p in [
        (-35, 0, 32),
    ]]
    fillet(fillet007_edges, radius=FILLET007_R)


with BuildPart() as common003_2:
    # Fillet007 placement: moved
    add(common003_1.part.moved(Location((0, 0, -0.15))))

    # Common003: intersect Válec2014
    add(v_lec2014.part, mode=Mode.INTERSECT)


solid = common003_2.part
